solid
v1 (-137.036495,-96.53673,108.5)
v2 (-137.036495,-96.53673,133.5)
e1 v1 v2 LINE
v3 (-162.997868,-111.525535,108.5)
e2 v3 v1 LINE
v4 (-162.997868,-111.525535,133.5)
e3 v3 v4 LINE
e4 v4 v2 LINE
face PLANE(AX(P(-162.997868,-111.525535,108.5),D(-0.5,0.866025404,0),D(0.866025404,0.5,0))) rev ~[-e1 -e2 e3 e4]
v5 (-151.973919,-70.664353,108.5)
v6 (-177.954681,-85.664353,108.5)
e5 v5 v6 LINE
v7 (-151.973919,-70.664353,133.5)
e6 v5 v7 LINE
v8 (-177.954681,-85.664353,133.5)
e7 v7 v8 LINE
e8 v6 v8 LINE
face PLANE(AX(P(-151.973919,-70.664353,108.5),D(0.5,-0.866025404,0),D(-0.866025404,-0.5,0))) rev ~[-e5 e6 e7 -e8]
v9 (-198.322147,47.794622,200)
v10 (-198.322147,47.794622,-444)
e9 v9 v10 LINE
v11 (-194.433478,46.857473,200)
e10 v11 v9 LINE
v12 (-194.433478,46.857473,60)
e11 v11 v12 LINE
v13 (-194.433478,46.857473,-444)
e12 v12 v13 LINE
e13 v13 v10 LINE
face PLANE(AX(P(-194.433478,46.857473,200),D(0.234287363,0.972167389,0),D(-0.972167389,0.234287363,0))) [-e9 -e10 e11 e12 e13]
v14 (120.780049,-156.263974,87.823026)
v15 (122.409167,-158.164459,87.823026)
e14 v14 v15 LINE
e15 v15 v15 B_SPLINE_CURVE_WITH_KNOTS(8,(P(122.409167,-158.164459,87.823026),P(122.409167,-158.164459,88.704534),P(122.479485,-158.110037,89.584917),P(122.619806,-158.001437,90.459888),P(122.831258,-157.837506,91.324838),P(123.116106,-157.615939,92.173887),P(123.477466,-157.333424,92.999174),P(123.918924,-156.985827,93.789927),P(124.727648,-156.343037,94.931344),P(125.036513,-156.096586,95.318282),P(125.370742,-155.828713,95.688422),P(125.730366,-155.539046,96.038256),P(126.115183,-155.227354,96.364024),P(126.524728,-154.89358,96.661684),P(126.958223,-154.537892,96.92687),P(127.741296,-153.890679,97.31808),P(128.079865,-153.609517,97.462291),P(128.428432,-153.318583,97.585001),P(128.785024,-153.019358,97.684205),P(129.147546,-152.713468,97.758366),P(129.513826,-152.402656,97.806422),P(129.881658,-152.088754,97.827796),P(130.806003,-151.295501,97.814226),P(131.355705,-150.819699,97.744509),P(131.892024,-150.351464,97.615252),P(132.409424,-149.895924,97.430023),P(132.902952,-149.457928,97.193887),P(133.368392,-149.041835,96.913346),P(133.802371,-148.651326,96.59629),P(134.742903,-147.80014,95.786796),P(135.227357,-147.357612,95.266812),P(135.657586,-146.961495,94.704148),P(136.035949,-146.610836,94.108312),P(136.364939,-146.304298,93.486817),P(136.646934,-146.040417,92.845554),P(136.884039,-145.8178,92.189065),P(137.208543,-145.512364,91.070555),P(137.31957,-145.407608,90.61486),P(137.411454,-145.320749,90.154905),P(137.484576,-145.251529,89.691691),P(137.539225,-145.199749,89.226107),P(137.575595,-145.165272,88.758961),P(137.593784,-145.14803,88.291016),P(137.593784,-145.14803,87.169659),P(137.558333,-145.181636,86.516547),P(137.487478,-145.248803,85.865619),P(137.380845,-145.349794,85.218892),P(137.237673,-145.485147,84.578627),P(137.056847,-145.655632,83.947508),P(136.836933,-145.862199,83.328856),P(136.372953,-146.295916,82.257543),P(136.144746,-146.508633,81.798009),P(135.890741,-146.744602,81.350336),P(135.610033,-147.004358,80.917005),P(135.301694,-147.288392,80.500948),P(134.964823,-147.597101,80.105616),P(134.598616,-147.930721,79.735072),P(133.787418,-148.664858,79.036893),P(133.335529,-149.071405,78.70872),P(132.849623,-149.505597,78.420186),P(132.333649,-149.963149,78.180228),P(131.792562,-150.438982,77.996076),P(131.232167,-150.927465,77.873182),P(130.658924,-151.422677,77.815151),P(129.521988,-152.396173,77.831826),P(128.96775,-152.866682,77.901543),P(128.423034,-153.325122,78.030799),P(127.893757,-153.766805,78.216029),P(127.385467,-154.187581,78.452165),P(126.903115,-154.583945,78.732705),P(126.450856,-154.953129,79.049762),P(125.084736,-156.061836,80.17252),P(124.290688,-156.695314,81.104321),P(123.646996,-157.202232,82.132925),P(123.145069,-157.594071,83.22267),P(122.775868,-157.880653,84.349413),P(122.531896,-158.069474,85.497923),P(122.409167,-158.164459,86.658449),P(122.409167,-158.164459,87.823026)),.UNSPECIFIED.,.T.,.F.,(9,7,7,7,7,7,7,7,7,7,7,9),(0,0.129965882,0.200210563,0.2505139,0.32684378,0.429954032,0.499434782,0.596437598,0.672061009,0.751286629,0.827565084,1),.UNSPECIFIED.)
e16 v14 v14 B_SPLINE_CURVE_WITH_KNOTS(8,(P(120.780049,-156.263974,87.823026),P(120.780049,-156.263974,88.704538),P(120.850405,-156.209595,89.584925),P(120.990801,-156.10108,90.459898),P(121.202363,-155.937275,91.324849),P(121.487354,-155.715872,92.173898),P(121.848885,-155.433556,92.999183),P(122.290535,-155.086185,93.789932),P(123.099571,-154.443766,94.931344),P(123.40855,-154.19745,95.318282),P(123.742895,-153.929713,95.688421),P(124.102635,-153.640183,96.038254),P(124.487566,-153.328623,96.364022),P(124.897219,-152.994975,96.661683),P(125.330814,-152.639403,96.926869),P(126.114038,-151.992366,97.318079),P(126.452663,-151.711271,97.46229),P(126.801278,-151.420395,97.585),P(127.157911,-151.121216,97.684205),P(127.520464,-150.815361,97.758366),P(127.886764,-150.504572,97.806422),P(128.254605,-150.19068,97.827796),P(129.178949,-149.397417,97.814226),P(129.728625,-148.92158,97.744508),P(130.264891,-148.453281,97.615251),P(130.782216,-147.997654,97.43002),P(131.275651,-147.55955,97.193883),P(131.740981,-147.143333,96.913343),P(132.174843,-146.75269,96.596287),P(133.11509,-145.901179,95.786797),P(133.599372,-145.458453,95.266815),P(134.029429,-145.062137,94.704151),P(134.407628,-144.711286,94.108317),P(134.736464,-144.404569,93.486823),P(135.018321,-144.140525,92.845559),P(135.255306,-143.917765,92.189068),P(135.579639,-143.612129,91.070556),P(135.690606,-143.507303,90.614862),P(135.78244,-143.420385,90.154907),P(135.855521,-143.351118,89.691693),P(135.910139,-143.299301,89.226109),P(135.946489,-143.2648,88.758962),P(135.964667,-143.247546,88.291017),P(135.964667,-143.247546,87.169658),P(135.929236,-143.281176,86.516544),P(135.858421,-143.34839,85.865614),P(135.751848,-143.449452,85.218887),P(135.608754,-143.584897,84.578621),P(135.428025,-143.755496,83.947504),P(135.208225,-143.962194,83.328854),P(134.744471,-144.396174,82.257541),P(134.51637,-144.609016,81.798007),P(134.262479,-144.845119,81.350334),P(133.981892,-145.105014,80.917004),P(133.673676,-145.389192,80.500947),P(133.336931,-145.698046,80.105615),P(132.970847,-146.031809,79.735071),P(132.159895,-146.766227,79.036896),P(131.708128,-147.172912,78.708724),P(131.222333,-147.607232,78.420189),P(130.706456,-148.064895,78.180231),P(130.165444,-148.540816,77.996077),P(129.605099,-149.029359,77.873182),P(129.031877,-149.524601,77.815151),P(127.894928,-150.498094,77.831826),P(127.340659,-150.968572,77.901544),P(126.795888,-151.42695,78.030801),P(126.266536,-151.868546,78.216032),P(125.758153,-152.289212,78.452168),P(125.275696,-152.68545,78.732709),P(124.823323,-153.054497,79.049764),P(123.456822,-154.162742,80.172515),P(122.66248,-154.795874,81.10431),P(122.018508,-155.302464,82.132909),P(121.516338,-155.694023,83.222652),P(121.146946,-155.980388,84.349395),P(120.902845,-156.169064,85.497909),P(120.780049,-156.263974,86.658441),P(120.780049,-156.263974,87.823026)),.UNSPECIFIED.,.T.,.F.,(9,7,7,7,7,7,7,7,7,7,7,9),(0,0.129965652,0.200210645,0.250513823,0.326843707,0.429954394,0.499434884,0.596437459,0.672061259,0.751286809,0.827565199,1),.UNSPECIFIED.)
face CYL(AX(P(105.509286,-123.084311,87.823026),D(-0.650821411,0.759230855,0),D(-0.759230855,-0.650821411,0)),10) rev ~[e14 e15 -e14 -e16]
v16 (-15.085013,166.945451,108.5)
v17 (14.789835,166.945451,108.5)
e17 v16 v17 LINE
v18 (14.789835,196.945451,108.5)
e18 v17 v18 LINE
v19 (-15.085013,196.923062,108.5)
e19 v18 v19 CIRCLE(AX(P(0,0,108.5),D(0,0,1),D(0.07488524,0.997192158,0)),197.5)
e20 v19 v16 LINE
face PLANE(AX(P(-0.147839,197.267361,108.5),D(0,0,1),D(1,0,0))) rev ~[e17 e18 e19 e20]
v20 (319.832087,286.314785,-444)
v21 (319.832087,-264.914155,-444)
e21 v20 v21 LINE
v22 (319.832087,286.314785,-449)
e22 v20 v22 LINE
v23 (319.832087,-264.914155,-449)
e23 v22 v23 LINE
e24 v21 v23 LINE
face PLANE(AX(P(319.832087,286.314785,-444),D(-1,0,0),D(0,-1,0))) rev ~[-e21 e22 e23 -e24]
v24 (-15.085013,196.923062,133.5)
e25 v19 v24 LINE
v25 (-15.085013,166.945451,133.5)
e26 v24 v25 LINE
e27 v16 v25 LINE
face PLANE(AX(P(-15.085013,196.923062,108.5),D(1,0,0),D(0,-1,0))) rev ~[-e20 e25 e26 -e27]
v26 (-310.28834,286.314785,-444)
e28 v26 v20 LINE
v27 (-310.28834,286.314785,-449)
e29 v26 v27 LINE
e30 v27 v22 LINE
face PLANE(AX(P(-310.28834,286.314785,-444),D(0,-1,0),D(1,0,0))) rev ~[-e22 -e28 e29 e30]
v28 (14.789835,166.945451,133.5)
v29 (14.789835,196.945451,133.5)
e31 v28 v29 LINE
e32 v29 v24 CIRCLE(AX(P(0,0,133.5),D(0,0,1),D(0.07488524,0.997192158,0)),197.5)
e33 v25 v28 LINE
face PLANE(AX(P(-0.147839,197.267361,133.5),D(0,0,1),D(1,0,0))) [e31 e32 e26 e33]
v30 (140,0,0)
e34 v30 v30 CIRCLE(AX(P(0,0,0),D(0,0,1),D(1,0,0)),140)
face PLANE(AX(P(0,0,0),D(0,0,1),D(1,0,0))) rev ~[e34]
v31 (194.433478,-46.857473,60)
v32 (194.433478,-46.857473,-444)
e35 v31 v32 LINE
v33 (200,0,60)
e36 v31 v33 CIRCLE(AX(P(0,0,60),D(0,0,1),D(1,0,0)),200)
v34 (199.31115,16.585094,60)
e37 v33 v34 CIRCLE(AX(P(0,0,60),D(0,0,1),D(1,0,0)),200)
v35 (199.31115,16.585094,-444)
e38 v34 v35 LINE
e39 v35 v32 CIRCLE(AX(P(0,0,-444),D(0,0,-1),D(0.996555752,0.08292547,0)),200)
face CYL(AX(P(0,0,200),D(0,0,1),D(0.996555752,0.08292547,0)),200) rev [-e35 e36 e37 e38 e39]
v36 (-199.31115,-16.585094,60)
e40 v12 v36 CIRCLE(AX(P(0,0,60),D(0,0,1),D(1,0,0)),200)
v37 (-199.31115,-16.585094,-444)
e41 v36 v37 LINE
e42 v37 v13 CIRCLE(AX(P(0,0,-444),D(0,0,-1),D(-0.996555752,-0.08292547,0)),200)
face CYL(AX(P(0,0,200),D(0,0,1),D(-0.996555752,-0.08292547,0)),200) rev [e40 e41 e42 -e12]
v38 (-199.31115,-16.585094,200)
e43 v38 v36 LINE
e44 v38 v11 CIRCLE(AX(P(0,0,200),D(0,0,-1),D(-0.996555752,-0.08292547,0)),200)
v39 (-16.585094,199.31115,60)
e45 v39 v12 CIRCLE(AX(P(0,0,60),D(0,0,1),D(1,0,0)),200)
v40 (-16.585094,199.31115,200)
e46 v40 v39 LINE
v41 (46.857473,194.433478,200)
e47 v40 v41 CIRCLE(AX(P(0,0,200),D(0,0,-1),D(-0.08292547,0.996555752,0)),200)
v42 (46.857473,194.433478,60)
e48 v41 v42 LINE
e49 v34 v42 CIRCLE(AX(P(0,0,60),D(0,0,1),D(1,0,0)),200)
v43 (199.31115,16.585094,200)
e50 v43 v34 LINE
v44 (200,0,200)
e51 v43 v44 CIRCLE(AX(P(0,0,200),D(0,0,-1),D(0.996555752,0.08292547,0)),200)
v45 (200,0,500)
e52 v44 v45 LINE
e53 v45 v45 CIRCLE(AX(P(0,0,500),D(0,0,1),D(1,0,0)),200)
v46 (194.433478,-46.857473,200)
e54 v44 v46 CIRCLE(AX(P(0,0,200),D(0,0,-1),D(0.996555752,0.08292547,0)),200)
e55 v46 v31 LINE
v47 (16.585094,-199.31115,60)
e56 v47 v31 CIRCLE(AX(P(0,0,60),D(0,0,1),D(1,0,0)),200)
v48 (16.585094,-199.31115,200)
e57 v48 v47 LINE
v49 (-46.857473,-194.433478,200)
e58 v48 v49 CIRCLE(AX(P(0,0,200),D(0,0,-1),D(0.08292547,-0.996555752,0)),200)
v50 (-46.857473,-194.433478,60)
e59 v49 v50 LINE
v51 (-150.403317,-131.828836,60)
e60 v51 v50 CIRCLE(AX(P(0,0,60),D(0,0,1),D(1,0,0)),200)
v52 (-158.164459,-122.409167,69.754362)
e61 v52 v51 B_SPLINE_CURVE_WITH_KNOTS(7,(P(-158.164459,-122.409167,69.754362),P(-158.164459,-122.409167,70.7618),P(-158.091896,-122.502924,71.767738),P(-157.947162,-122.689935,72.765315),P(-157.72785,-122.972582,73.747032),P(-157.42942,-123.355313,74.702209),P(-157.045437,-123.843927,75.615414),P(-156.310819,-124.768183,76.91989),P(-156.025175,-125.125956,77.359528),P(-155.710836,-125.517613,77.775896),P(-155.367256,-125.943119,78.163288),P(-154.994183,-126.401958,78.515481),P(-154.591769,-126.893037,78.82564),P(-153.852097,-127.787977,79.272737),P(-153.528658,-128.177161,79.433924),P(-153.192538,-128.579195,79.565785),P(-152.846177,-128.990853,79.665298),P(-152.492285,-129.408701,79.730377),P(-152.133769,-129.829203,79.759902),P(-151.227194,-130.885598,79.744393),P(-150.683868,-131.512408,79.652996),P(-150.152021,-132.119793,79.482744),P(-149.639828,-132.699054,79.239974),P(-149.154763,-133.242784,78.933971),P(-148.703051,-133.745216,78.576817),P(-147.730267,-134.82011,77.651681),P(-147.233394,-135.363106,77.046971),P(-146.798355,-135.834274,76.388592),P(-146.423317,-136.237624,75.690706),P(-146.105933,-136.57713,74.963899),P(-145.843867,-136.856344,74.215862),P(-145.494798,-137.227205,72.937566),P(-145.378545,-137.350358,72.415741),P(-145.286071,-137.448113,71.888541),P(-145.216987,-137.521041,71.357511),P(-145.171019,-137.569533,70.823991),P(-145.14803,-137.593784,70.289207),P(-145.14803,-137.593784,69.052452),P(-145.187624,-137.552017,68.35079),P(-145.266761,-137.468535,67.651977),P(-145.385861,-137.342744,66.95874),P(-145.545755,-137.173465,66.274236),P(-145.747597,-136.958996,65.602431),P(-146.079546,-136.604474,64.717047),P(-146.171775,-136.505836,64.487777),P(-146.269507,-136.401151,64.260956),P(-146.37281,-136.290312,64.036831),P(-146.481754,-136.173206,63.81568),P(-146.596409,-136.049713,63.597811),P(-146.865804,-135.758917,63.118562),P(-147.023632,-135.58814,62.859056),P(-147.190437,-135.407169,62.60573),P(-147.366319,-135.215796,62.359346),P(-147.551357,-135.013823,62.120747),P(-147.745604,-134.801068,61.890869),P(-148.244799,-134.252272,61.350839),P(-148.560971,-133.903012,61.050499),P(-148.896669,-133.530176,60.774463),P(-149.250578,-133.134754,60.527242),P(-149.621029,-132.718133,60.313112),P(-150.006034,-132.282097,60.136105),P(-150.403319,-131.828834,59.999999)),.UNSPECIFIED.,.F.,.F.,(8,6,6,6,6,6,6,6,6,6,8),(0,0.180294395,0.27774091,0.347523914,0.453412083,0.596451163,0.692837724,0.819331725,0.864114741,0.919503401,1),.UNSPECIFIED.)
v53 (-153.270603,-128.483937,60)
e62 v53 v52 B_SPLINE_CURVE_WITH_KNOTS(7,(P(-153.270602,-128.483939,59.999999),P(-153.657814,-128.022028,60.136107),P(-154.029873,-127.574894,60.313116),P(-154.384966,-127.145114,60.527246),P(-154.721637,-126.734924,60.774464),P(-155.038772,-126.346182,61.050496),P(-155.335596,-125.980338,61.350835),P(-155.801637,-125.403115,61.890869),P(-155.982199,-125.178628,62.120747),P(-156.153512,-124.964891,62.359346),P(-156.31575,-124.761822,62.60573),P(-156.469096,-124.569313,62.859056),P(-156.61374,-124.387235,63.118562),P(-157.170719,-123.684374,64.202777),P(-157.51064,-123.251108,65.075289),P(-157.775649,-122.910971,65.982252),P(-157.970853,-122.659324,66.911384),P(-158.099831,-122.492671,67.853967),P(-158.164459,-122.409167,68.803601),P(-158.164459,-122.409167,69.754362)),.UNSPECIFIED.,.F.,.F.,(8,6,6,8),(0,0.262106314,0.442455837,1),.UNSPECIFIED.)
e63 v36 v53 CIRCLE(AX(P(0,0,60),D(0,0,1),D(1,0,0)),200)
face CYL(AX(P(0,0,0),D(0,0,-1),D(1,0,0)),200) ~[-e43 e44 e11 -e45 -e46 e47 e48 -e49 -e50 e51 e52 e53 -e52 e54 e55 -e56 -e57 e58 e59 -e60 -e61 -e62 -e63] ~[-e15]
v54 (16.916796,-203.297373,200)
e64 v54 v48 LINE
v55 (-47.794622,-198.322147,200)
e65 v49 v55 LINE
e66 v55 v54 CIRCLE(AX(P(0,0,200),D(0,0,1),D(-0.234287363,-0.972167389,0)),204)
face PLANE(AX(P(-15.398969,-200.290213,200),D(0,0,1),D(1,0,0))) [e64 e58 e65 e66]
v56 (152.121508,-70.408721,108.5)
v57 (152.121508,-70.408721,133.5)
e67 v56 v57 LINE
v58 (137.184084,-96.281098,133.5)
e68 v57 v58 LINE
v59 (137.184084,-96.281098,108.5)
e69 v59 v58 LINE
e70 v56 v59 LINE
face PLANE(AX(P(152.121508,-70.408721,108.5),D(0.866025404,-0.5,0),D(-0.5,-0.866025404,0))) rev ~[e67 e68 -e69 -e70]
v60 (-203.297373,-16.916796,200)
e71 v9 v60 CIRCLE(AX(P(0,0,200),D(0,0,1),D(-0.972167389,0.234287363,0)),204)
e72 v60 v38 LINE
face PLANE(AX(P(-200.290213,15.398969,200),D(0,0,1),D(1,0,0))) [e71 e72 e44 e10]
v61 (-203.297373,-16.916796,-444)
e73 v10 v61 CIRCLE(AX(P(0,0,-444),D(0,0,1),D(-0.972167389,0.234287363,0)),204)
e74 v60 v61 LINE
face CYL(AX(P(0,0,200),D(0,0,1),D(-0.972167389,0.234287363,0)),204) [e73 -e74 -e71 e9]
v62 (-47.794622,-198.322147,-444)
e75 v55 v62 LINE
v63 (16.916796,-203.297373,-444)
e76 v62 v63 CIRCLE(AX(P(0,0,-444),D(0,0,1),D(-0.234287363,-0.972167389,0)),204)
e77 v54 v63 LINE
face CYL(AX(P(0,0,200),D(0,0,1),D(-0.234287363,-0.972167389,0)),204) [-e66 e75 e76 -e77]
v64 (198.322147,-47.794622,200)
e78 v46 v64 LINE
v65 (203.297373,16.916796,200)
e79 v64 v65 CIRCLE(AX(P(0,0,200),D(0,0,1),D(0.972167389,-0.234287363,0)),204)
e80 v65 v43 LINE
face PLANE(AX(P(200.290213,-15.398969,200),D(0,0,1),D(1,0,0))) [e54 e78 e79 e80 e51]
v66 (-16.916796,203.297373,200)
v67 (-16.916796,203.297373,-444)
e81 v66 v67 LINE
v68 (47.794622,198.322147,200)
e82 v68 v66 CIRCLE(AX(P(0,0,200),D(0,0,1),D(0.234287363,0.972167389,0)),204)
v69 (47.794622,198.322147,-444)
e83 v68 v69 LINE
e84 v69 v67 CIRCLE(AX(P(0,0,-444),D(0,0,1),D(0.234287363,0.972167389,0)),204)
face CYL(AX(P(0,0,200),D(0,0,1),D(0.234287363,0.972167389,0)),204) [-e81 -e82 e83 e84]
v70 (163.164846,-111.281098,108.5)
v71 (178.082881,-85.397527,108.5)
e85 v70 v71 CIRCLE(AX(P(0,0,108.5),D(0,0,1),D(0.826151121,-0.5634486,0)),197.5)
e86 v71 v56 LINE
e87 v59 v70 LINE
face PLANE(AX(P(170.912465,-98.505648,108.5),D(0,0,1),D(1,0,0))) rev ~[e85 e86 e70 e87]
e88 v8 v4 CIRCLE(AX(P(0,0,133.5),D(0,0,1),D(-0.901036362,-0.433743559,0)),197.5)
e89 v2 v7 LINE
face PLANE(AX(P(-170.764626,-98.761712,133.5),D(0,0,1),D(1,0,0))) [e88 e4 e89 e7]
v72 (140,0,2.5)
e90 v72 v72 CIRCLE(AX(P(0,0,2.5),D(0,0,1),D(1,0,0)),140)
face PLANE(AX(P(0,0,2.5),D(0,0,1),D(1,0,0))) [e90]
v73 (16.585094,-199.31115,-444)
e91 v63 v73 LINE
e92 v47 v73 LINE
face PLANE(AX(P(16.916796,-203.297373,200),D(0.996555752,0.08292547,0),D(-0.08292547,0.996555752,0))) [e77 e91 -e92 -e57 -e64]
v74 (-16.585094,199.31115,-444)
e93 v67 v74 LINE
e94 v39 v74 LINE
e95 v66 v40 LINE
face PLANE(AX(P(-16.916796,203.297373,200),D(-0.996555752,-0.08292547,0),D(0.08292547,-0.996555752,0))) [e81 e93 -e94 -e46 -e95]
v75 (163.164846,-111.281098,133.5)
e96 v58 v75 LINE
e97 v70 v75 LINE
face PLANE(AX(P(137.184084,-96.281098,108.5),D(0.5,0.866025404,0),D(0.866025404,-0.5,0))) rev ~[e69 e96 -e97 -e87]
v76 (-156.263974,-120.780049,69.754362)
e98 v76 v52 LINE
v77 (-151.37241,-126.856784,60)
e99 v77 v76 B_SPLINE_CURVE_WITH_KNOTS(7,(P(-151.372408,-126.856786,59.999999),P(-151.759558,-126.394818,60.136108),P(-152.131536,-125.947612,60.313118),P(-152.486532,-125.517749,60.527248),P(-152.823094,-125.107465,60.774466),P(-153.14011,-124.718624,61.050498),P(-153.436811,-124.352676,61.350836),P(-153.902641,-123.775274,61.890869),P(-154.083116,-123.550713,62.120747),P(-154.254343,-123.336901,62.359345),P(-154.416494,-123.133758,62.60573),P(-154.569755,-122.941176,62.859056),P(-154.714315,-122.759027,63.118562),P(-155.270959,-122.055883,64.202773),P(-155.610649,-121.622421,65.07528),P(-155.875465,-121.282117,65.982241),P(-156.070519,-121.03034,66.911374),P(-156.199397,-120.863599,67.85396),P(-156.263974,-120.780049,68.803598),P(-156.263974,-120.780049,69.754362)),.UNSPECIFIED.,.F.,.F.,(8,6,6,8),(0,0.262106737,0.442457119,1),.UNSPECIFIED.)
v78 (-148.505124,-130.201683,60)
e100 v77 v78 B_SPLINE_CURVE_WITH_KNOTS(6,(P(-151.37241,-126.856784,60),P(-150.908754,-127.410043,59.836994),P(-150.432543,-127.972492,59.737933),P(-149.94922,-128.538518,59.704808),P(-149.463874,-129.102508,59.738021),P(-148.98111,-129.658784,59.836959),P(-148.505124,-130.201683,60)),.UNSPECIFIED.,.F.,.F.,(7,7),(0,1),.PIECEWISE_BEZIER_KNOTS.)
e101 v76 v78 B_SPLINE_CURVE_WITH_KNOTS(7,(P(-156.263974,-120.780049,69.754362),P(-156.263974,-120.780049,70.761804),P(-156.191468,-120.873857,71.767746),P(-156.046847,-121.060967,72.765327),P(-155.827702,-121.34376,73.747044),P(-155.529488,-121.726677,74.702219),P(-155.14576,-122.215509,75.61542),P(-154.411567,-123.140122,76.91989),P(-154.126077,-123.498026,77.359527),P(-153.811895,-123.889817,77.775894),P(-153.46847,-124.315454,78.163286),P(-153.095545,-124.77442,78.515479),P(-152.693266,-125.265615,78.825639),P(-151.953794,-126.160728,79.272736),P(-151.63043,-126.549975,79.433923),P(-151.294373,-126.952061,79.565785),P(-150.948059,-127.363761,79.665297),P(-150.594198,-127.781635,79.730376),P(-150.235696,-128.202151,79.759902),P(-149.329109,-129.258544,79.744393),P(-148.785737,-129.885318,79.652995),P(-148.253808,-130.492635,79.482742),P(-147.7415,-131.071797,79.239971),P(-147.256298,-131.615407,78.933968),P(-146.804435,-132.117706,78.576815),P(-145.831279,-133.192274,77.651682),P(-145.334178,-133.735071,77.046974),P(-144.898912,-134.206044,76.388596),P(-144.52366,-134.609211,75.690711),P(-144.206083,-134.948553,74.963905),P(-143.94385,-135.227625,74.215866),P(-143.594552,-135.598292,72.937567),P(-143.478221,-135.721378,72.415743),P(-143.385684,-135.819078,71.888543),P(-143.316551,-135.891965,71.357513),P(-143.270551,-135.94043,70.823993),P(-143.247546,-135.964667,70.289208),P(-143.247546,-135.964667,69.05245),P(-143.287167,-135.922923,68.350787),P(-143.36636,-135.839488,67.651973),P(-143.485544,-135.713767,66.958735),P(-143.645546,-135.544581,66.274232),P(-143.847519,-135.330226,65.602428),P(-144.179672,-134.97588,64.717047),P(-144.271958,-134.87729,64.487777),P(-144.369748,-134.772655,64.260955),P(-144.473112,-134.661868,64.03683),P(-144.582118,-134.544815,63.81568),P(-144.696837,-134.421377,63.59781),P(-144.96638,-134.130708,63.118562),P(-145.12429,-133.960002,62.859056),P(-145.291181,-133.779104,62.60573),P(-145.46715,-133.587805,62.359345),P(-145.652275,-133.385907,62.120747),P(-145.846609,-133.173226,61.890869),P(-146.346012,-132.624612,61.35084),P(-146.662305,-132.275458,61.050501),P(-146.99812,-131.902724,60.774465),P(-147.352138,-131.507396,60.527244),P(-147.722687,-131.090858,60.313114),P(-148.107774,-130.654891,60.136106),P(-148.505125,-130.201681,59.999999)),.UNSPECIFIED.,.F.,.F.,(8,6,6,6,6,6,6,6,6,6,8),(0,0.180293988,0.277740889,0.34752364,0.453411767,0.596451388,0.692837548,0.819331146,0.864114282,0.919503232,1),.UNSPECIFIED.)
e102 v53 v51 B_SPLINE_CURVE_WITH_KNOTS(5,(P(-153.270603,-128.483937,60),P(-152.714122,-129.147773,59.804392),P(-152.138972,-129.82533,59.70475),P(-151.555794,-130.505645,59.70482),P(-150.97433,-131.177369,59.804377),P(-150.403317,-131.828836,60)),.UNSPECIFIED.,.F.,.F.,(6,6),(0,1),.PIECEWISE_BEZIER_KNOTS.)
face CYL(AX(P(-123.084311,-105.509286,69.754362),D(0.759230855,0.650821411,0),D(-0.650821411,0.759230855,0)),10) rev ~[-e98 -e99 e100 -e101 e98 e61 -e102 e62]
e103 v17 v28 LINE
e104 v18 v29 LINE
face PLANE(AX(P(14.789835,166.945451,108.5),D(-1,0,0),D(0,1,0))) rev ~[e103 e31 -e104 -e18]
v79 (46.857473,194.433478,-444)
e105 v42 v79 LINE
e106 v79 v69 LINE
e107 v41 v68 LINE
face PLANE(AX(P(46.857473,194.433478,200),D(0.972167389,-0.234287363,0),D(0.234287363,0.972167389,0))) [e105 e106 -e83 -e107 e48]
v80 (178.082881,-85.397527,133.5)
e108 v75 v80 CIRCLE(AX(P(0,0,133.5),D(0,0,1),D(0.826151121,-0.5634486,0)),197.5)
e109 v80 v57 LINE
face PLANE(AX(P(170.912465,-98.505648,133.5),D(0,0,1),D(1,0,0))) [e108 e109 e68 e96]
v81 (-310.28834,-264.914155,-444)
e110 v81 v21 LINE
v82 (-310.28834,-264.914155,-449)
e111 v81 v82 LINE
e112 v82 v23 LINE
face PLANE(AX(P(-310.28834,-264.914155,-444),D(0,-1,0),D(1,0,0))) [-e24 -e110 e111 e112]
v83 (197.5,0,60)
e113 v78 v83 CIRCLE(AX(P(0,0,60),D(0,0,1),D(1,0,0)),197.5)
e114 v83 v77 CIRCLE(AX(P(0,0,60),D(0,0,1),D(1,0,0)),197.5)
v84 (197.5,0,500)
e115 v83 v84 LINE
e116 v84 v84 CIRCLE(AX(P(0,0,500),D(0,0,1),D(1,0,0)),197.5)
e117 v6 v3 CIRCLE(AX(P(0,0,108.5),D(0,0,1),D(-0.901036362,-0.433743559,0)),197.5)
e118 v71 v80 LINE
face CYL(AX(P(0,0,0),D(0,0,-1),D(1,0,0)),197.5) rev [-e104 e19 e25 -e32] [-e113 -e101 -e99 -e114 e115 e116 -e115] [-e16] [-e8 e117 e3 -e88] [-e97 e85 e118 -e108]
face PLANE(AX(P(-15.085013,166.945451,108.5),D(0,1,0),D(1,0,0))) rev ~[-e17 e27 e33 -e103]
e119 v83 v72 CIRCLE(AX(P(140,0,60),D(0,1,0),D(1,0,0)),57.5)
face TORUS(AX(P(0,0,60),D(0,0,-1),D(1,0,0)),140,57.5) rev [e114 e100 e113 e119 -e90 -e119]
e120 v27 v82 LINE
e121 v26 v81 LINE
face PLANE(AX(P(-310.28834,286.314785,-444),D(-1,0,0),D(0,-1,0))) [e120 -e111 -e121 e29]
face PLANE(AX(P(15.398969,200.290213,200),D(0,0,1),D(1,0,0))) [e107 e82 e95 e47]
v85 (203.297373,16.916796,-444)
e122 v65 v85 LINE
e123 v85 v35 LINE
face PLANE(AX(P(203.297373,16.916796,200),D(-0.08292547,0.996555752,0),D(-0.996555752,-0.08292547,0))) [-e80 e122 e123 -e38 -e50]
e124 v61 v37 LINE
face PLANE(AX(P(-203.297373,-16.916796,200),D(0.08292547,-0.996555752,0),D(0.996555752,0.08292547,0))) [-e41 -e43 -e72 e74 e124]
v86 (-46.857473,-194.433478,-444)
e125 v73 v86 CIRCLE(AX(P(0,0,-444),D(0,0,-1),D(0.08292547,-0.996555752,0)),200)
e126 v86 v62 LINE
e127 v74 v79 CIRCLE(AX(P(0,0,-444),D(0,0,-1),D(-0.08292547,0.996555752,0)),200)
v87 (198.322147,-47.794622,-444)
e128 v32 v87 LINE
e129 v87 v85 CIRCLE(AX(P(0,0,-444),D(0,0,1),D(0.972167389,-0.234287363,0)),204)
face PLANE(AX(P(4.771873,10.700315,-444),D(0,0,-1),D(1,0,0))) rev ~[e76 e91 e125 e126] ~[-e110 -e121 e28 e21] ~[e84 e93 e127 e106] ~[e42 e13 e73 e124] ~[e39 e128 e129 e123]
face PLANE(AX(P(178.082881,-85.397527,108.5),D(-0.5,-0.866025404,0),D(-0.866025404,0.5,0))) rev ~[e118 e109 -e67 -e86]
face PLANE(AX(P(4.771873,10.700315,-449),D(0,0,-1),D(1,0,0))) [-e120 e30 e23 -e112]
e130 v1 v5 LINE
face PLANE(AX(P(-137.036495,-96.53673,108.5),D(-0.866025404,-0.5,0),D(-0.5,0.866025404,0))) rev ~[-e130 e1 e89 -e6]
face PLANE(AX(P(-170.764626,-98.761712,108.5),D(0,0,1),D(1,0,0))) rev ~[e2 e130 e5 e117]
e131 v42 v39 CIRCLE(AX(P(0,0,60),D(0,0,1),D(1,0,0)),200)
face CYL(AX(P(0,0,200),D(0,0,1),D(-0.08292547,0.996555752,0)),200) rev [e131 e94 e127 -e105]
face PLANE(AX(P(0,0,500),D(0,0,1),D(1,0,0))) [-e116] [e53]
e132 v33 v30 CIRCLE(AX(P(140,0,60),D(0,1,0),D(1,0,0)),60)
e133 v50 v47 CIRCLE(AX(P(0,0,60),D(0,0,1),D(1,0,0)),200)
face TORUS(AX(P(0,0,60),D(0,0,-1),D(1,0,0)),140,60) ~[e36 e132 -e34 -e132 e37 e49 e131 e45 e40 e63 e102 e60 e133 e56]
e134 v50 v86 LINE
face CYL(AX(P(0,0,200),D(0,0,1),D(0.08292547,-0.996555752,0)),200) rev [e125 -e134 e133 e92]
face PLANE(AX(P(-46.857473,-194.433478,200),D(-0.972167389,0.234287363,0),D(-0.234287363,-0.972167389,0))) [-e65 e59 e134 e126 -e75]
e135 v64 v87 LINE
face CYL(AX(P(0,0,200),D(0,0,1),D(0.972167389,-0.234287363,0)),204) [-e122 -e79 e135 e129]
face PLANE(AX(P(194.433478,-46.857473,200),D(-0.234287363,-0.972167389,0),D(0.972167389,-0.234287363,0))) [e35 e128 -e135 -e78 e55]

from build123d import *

# Parameters (mm, degrees)
F0_R      = 200
F1_DEPTH  = 500
F2_R      = 60
F3_T      = -2.5
F6_DEPTH  = 644
F7_W      = 630.1204264164
F7_H      = 551.2289404869
F8_DEPTH  = 5
F12_DEPTH = 230
F16_DEPTH = 560.1
F19_DEPTH = 25


with BuildPart() as f1:
    # F0 (on Top) → F1 (new body)
    with BuildSketch(Plane.XY):
        Circle(F0_R)
    extrude(amount=F1_DEPTH)

    # F2
    f2_edges = [f1.edges().sort_by_distance(p)[0] for p in [
        (-200, 0, 0),
    ]]
    fillet(f2_edges, radius=F2_R)

    # F3
    f3_openings = [f1.faces().sort_by_distance(p)[0] for p in [
        (0, 0, 500),
    ]]
    offset(amount=F3_T, openings=f3_openings)

    # F5 (on offset) → F6 (join)
    with BuildSketch(Plane.XY.offset(200)):
        with BuildLine():
            ThreePointArc((199.311150361, 16.5850939631), (199.4115038067, -15.3314105532), (194.4334777301, -46.8574725929))
            Line((194.4334777301, -46.8574725929), (198.3221472847, -47.7946220448))
            ThreePointArc((198.3221472847, -47.7946220448), (203.3997338828, -15.6380387643), (203.2973733682, 16.9167958423))
            Line((203.2973733682, 16.9167958423), (199.311150361, 16.5850939631))
        make_face()
        with BuildLine():
            ThreePointArc((-16.5850939631, 199.311150361), (15.3314105532, 199.4115038067), (46.8574725929, 194.4334777301))
            Line((46.8574725929, 194.4334777301), (47.7946220448, 198.3221472847))
            ThreePointArc((47.7946220448, 198.3221472847), (15.6380387643, 203.3997338828), (-16.9167958423, 203.2973733682))
            Line((-16.9167958423, 203.2973733682), (-16.5850939631, 199.311150361))
        make_face()
        with BuildLine():
            ThreePointArc((-199.311150361, -16.5850939631), (-199.4115038067, 15.3314105532), (-194.4334777301, 46.8574725929))
            Line((-194.4334777301, 46.8574725929), (-198.3221472847, 47.7946220448))
            ThreePointArc((-198.3221472847, 47.7946220448), (-203.3997338828, 15.6380387643), (-203.2973733682, -16.9167958423))
            Line((-203.2973733682, -16.9167958423), (-199.311150361, -16.5850939631))
        make_face()
        with BuildLine():
            ThreePointArc((16.5850939631, -199.311150361), (-15.3314105532, -199.4115038067), (-46.8574725929, -194.4334777301))
            Line((-46.8574725929, -194.4334777301), (-47.7946220448, -198.3221472847))
            ThreePointArc((-47.7946220448, -198.3221472847), (-15.6380387643, -203.3997338828), (16.9167958423, -203.2973733682))
            Line((16.9167958423, -203.2973733682), (16.5850939631, -199.311150361))
        make_face()
    extrude(amount=-F6_DEPTH)

    # F7 (on face) → F8 (join)
    with BuildSketch(Plane(origin=(0, 0, -444), x_dir=(1, 0, 0), z_dir=(0, 0, -1))):
        with Locations((4.7718733549, -10.700315237)):
            Rectangle(F7_W, F7_H)
    extrude(amount=F8_DEPTH)

    # F11 (on 3pt) → F12 (cut)
    with BuildSketch(Plane(origin=(105.5092858466, -123.084311477, 0), x_dir=(-0.7592308548, -0.6508214111, 0), z_dir=(-0.6508214111, 0.7592308548, 0))):
        with BuildLine():
            ThreePointArc((-10, 87.8230258822), (0, 77.8230258822), (10, 87.8230258822))
            Line((10, 87.8230258822), (-10, 87.8230258822))
        make_face()
        with BuildLine():
            Line((-10, 87.8230258822), (10, 87.8230258822))
            ThreePointArc((10, 87.8230258822), (0, 97.8230258822), (-10, 87.8230258822))
        make_face()
    extrude(amount=-F12_DEPTH, mode=Mode.SUBTRACT)

    # F15 (on 3pt) → F16 (cut)
    with BuildSketch(Plane(origin=(-123.084311477, -105.5092858466, 0), x_dir=(-0.6508214111, 0.7592308548, 0), z_dir=(0.7592308548, 0.6508214111, 0))):
        with BuildLine():
            ThreePointArc((-10, 69.7543621063), (0, 59.7543621063), (10, 69.7543621063))
            Line((10, 69.7543621063), (-10, 69.7543621063))
        make_face()
        with BuildLine():
            Line((-10, 69.7543621063), (10, 69.7543621063))
            ThreePointArc((10, 69.7543621063), (0, 79.7543621063), (-10, 69.7543621063))
        make_face()
    extrude(amount=-F16_DEPTH, mode=Mode.SUBTRACT)

    # F18 (on offset) → F19 (join)
    with BuildSketch(Plane.XY.offset(108.5)):
        with BuildLine():
            ThreePointArc((-15.0850128449, 196.9230621016), (-0.1480075711, 197.4928535083), (14.789834964, 196.9454512847))
            ThreePointArc((14.789834964, 196.9454512847), (-0.1480128853, 197.4999445372), (-15.0850128449, 196.9230621016))
        make_face()
        with BuildLine():
            ThreePointArc((-162.9978679485, -111.5255353909), (-170.9598244185, -98.8746050706), (-177.9546814544, -85.6643528457))
            ThreePointArc((-177.9546814544, -85.6643528457), (-170.9659627725, -98.8781551874), (-162.9978679485, -111.5255353909))
        make_face()
        with BuildLine():
            ThreePointArc((163.1648464903, -111.281098439), (171.1139756579, -98.6217893498), (178.0828807935, -85.3975267107))
            ThreePointArc((178.0828807935, -85.3975267107), (171.1078319896, -98.6182484376), (163.1648464903, -111.281098439))
        make_face()
        with BuildLine():
            Line((-151.9739193408, -70.6643528457), (-177.9546814544, -85.6643528457))
            ThreePointArc((-177.9546814544, -85.6643528457), (-170.9598244185, -98.8746050706), (-162.9978679485, -111.5255353909))
            Line((-162.9978679485, -111.5255353909), (-137.0364954363, -96.5367299825))
            Line((-137.0364954363, -96.5367299825), (-151.9739193408, -70.6643528457))
        make_face()
        with BuildLine():
            ThreePointArc((163.1648464903, -111.281098439), (171.1078319896, -98.6182484376), (178.0828807935, -85.3975267107))
            Line((178.0828807935, -85.3975267107), (152.1215082813, -70.4087213022))
            Line((152.1215082813, -70.4087213022), (137.1840843768, -96.281098439))
            Line((137.1840843768, -96.281098439), (163.1648464903, -111.281098439))
        make_face()
        with BuildLine():
            Line((14.789834964, 166.9454512847), (14.789834964, 196.9454512847))
            ThreePointArc((14.789834964, 196.9454512847), (-0.1480075711, 197.4928535083), (-15.0850128449, 196.9230621016))
            Line((-15.0850128449, 196.9230621016), (-15.0850128449, 166.9454512847))
            Line((-15.0850128449, 166.9454512847), (14.789834964, 166.9454512847))
        make_face()
    extrude(amount=F19_DEPTH)


solid = f1.part
